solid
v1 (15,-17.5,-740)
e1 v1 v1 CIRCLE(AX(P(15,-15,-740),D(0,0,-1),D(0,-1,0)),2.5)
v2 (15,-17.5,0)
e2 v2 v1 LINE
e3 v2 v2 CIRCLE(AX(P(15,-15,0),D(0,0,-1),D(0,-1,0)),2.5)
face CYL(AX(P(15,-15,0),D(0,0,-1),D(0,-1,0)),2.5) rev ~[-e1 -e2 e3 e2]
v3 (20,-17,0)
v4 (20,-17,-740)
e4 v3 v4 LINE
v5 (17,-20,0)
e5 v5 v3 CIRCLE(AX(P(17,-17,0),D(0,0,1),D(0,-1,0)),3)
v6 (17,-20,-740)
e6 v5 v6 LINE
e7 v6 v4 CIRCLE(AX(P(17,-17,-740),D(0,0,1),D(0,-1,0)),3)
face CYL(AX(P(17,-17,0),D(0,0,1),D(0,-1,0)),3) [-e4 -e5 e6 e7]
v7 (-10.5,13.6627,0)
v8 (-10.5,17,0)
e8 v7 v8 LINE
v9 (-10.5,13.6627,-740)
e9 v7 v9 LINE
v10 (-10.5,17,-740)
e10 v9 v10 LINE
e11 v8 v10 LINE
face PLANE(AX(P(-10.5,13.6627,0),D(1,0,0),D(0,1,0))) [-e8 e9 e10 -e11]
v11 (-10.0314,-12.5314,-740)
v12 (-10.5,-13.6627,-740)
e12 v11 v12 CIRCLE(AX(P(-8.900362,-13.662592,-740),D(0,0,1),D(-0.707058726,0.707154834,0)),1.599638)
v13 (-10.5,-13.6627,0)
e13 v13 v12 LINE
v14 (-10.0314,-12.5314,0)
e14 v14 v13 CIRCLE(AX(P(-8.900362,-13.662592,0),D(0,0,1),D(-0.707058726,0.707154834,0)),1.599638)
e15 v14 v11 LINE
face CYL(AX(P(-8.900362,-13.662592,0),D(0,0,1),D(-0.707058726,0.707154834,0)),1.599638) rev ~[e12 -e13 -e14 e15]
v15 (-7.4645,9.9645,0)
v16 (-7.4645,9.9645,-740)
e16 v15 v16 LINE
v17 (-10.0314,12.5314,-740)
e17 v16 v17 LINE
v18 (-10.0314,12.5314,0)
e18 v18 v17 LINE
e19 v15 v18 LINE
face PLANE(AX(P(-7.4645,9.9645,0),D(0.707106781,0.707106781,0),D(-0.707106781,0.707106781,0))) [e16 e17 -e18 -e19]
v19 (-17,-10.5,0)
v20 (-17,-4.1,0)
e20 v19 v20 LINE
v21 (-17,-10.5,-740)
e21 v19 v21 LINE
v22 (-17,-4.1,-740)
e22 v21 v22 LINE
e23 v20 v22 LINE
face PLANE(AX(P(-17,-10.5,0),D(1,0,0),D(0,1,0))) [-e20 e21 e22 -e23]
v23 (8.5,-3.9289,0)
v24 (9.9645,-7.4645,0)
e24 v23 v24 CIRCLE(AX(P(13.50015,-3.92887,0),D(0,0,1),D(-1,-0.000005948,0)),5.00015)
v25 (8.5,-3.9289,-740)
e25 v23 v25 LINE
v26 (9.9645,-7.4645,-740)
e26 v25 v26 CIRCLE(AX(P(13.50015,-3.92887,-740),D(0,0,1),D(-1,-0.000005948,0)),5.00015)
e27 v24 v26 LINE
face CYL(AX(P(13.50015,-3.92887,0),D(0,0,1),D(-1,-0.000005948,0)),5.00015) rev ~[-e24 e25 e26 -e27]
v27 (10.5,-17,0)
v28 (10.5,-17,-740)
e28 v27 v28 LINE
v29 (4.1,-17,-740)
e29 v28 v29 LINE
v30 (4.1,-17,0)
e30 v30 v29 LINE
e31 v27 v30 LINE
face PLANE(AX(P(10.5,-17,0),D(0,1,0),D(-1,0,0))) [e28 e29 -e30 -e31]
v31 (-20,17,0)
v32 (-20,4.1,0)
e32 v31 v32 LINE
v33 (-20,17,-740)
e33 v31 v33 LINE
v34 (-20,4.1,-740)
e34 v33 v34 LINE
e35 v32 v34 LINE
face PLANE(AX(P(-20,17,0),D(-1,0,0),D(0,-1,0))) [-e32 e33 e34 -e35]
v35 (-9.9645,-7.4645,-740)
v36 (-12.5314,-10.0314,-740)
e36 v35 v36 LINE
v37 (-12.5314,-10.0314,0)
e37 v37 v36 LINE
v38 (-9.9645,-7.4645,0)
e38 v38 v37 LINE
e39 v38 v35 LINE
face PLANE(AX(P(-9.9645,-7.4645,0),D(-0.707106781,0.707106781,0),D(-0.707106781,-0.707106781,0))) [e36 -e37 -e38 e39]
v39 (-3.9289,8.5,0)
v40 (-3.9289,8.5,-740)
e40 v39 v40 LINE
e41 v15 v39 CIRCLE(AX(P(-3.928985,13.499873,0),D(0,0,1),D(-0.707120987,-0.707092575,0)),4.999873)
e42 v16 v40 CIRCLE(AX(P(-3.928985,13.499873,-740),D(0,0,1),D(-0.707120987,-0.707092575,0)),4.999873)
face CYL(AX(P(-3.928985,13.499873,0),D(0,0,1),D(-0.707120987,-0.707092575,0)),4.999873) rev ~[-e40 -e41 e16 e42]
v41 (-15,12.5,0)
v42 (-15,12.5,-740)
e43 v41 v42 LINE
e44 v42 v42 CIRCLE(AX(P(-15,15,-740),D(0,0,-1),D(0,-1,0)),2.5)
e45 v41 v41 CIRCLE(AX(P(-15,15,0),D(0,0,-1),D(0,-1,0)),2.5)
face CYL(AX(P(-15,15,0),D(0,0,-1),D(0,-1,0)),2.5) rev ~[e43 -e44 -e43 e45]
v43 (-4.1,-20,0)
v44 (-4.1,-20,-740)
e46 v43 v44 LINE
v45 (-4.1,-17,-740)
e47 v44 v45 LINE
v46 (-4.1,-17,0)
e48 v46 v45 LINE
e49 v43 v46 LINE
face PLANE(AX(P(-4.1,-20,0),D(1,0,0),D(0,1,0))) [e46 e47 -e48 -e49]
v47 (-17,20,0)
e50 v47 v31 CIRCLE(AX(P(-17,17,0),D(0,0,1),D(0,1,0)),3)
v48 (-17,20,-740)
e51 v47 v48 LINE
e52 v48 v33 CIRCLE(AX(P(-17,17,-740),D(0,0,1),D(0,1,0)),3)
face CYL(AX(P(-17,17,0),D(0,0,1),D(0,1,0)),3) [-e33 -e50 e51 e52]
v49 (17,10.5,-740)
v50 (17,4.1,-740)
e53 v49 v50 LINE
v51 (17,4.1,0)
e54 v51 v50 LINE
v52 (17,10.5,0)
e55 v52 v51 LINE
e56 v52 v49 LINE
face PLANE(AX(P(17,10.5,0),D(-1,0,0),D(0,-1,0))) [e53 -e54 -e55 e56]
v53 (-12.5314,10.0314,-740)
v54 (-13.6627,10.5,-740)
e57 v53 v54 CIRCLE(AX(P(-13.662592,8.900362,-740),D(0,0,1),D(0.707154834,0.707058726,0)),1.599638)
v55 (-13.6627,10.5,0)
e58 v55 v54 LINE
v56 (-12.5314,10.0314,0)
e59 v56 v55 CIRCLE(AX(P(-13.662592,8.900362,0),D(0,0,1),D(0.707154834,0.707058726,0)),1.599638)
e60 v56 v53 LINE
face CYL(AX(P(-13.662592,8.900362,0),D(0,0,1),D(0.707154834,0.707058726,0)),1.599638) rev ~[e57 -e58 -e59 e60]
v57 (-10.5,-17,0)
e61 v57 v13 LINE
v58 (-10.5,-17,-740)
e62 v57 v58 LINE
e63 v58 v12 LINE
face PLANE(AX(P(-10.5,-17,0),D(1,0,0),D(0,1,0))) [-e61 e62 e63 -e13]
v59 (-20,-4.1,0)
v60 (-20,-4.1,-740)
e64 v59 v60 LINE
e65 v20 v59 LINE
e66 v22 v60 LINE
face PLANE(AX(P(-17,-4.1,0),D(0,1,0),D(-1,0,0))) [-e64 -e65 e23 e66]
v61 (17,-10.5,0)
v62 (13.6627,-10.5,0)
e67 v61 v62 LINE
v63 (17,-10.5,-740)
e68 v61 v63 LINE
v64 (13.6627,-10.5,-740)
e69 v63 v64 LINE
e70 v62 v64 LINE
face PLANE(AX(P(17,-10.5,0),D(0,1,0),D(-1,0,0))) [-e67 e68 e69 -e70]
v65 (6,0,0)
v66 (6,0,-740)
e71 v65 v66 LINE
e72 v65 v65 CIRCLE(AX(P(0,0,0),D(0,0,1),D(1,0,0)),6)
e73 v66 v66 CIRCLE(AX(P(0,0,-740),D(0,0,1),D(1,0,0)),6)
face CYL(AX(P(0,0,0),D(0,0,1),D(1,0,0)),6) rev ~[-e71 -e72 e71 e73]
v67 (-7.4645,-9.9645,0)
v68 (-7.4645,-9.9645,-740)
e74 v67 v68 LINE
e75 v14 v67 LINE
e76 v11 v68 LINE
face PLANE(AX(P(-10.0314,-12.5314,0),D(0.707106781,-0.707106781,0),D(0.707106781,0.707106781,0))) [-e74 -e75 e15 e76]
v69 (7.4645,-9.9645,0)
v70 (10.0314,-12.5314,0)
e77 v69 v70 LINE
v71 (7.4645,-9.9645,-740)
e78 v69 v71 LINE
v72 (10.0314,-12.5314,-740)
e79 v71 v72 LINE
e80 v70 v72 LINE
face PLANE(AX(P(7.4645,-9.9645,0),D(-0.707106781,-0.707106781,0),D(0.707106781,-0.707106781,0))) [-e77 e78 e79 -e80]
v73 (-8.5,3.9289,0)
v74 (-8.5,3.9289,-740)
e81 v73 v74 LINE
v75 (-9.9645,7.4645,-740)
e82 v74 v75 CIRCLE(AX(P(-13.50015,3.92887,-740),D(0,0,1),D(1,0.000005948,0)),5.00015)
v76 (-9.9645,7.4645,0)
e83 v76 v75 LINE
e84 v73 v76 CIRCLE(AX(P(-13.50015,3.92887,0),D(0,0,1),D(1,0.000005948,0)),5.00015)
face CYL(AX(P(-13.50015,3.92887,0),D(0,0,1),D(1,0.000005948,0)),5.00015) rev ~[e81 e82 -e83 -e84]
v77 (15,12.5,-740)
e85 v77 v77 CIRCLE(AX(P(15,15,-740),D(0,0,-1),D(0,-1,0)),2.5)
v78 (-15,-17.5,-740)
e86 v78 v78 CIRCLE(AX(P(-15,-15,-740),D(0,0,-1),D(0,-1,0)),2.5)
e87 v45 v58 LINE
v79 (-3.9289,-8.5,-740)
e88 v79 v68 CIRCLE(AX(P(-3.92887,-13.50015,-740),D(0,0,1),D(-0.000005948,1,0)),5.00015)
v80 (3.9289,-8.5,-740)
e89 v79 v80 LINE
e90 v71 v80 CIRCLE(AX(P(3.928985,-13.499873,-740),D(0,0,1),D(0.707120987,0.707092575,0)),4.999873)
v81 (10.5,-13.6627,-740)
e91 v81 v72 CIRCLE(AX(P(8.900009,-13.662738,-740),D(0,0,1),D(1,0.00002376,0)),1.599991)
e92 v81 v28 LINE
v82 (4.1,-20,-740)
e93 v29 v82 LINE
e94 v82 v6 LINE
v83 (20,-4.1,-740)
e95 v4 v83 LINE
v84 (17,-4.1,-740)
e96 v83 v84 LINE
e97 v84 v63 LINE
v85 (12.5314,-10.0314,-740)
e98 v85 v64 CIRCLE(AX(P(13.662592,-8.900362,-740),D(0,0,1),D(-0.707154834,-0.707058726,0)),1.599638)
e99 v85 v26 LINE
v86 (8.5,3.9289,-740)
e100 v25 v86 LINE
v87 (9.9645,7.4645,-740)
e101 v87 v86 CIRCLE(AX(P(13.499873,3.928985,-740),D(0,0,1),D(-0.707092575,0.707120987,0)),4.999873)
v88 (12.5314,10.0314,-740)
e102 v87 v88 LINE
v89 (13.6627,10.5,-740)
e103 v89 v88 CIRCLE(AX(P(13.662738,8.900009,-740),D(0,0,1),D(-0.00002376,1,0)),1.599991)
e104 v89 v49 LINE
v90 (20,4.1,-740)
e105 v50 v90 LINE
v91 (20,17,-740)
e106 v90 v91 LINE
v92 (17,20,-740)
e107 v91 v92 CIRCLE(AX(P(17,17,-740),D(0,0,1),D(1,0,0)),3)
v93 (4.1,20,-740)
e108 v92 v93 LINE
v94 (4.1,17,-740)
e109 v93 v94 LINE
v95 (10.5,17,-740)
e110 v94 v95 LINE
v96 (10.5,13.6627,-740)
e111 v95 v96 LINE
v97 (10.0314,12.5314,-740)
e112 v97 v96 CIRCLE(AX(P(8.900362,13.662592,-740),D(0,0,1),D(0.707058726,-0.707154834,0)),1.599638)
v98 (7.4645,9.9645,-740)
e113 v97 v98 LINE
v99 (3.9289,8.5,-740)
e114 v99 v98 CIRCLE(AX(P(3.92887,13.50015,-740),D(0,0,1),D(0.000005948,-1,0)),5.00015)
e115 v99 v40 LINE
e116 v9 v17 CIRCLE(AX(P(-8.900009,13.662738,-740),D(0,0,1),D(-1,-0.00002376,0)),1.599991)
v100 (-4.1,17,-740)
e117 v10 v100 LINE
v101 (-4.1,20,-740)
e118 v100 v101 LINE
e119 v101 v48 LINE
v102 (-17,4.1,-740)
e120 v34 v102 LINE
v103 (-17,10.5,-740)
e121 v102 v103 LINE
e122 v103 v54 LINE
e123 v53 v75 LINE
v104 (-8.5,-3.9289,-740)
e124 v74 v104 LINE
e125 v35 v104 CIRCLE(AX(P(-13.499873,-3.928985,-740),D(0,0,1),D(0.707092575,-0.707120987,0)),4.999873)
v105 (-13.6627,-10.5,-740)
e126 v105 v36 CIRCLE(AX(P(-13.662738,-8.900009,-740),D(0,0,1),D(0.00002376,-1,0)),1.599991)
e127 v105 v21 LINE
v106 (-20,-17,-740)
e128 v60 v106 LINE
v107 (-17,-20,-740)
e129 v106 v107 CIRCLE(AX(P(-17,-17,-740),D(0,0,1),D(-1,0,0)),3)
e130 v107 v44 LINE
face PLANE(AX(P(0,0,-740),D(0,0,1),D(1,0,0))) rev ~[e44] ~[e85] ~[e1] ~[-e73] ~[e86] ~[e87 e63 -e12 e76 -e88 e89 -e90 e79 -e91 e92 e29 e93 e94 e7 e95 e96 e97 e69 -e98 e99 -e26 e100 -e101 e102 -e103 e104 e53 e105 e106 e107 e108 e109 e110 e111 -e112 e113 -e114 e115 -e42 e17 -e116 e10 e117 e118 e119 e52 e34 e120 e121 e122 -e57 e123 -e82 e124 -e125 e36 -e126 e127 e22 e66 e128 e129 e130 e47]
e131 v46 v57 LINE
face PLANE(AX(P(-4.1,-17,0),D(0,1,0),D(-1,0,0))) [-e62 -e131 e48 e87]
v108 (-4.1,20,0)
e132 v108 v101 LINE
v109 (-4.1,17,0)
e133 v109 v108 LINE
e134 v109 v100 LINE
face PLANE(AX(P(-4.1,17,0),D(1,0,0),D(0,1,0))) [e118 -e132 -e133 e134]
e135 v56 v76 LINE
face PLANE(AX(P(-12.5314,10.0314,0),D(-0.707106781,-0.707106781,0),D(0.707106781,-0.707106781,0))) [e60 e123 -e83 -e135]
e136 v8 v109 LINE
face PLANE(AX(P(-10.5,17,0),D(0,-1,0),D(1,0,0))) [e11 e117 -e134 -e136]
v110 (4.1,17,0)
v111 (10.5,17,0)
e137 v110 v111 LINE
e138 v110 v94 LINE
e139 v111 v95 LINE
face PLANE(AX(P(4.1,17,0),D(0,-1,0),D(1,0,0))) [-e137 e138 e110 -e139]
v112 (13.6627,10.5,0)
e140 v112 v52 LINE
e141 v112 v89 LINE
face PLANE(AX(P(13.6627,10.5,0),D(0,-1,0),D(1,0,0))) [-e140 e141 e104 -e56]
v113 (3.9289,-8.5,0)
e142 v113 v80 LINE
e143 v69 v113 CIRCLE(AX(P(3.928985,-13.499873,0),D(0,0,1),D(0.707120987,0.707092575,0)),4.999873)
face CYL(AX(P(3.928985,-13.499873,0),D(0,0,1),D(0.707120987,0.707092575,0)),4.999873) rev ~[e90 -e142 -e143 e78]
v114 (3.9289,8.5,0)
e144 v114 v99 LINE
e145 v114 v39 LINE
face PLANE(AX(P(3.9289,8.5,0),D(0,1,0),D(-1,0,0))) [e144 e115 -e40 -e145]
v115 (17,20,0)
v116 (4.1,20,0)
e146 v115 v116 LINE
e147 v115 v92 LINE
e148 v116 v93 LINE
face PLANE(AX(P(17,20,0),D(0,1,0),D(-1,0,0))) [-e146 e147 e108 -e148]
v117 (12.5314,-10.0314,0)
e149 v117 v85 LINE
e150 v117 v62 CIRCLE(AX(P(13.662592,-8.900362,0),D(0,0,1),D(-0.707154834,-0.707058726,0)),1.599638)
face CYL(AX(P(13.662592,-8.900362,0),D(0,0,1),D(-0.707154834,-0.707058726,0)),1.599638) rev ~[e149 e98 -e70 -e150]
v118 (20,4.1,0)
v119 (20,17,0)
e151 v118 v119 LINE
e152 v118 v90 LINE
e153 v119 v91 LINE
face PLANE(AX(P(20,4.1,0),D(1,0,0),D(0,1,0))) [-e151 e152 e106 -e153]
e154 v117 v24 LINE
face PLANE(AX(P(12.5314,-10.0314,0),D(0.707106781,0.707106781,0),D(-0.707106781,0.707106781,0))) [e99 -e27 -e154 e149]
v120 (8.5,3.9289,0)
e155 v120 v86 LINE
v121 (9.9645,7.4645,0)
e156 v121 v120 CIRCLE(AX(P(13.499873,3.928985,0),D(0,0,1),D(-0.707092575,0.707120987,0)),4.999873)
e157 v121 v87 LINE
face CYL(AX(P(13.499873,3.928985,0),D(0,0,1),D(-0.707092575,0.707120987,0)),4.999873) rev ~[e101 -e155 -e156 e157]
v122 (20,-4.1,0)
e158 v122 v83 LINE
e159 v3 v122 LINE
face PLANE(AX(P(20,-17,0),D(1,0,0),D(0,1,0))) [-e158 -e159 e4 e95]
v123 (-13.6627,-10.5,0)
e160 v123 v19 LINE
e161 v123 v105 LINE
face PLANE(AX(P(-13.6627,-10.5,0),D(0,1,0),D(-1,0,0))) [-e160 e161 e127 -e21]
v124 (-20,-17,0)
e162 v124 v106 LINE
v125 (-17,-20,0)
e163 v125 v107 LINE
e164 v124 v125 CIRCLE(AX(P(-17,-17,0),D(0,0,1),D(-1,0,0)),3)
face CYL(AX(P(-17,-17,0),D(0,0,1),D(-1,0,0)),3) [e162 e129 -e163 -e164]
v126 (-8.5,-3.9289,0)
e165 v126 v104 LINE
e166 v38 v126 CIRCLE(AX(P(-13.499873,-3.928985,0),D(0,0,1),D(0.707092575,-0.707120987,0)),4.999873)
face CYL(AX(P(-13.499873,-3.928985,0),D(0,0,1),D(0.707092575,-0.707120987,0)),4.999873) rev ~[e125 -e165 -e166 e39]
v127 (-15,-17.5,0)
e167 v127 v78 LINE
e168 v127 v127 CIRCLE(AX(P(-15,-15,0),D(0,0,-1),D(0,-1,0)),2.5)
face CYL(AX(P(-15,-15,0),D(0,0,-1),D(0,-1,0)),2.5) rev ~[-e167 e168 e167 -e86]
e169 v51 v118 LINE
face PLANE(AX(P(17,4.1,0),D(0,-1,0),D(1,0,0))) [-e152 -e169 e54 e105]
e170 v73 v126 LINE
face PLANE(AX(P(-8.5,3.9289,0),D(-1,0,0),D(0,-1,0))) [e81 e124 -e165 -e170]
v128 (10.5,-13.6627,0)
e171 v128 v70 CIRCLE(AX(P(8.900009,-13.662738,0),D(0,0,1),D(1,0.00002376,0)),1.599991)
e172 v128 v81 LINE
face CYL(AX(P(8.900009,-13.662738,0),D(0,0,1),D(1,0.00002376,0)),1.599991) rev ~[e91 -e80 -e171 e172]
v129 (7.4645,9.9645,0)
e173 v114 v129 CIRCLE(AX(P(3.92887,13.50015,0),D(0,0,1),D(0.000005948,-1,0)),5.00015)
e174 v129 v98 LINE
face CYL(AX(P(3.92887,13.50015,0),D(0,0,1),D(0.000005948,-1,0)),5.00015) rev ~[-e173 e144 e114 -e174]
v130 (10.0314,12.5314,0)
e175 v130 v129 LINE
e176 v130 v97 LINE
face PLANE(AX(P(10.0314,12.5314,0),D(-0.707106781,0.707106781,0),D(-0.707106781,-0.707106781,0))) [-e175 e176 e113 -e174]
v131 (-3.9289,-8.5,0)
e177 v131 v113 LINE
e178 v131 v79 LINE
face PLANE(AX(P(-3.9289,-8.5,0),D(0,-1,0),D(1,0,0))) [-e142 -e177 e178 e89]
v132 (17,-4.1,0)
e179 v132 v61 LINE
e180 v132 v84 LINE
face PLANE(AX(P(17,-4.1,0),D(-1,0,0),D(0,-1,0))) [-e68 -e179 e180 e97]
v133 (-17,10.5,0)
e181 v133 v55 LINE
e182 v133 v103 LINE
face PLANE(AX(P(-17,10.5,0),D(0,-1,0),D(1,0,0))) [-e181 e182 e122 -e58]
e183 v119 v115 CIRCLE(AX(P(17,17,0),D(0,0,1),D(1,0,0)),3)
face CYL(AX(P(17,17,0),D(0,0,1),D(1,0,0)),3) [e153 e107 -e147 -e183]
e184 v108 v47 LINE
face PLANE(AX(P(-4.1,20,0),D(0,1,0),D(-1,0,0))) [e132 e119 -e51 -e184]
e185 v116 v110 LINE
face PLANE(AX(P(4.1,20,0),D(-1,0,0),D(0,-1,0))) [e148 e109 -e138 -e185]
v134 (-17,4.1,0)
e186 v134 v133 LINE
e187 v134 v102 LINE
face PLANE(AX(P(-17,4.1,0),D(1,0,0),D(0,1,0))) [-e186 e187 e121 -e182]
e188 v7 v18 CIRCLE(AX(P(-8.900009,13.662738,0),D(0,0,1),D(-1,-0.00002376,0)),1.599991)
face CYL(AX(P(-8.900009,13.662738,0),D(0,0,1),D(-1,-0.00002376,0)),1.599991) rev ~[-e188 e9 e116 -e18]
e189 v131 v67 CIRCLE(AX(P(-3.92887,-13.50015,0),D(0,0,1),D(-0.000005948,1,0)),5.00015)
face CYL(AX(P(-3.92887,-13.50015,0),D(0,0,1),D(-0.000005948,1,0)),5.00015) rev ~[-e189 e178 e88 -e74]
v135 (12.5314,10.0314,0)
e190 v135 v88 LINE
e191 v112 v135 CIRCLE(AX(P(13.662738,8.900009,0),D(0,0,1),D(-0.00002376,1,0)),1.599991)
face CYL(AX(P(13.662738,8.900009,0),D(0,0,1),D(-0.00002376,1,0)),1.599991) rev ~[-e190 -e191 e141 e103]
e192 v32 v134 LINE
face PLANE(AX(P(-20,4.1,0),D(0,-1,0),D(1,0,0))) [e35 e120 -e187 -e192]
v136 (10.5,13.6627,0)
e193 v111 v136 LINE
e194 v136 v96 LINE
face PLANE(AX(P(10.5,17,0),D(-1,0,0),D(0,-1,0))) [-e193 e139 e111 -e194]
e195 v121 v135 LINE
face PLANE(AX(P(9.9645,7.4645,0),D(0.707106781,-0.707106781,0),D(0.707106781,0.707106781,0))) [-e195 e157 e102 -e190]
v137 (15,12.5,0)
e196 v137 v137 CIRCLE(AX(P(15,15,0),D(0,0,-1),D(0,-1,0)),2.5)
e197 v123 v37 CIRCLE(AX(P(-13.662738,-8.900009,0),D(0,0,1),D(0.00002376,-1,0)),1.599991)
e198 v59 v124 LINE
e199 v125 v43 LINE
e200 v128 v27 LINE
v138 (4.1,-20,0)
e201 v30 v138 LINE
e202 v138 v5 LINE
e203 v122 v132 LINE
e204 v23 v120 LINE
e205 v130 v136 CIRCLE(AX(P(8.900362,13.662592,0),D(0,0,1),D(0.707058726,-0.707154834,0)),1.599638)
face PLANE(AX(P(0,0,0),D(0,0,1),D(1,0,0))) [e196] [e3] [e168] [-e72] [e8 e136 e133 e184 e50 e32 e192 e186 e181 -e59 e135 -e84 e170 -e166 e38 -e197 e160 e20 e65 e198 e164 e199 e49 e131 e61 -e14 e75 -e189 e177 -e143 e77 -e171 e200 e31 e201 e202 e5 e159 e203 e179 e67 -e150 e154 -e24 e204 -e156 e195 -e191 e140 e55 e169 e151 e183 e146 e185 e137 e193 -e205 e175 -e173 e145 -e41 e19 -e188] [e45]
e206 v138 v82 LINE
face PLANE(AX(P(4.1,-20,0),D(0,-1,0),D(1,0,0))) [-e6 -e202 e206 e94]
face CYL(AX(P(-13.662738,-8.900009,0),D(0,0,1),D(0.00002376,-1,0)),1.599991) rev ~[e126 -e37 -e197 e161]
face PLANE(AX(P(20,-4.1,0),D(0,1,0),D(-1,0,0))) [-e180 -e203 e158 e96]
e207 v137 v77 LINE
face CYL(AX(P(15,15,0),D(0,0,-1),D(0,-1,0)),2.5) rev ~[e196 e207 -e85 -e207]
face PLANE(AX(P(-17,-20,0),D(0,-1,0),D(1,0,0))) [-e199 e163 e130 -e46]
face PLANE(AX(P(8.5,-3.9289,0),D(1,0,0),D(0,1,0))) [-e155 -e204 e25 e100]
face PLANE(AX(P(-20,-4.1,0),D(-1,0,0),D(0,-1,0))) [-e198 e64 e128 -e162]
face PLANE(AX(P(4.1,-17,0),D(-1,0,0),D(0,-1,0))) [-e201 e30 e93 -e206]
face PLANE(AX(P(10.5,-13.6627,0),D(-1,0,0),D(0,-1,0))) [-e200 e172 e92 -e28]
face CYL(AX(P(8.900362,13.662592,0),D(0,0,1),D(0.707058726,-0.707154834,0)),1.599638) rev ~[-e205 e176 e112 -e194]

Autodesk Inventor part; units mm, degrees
sketch "Skizze_1" plane through (0, 0, 0) normal (0, 0, 1) x (1, 0, 0)
  arc A0 (-20, -17) -> (-17, -20) centre (-17, -17) ccw
  line L0 (-17, -20) -> (-4.1, -20)
  line L1 (-4.1, -20) -> (-4.1, -17)
  line L2 (-4.1, -17) -> (-10.5, -17)
  line L3 (-10.5, -17) -> (-10.5, -13.6627)
  arc A1 (-10.0314, -12.5314) -> (-10.5, -13.6627) centre (-8.9002, -13.6627) ccw
  line L4 (-10.0314, -12.5314) -> (-7.4645, -9.9645)
  arc A2 (-3.9289, -8.5) -> (-7.4645, -9.9645) centre (-3.9289, -13.5) ccw
  line L5 (-3.9289, -8.5) -> (3.9289, -8.5)
  arc A3 (7.4645, -9.9645) -> (3.9289, -8.5) centre (3.9289, -13.5) ccw
  line L6 (7.4645, -9.9645) -> (10.0314, -12.5314)
  arc A4 (10.5, -13.6627) -> (10.0314, -12.5314) centre (8.9002, -13.6627) ccw
  line L7 (10.5, -13.6627) -> (10.5, -17)
  line L8 (10.5, -17) -> (4.1, -17)
  line L9 (4.1, -17) -> (4.1, -20)
  line L10 (4.1, -20) -> (17, -20)
  arc A5 (17, -20) -> (20, -17) centre (17, -17) ccw
  line L11 (20, -17) -> (20, -4.1)
  line L12 (20, -4.1) -> (17, -4.1)
  line L13 (17, -4.1) -> (17, -10.5)
  line L14 (17, -10.5) -> (13.6627, -10.5)
  arc A6 (12.5314, -10.0314) -> (13.6627, -10.5) centre (13.6627, -8.9002) ccw
  line L15 (12.5314, -10.0314) -> (9.9645, -7.4645)
  arc A7 (8.5, -3.9289) -> (9.9645, -7.4645) centre (13.5, -3.9289) ccw
  line L16 (8.5, -3.9289) -> (8.5, 3.9289)
  arc A8 (9.9645, 7.4645) -> (8.5, 3.9289) centre (13.5, 3.9289) ccw
  line L17 (9.9645, 7.4645) -> (12.5314, 10.0314)
  arc A9 (13.6627, 10.5) -> (12.5314, 10.0314) centre (13.6627, 8.9002) ccw
  line L18 (13.6627, 10.5) -> (17, 10.5)
  line L19 (17, 10.5) -> (17, 4.1)
  line L20 (17, 4.1) -> (20, 4.1)
  line L21 (20, 4.1) -> (20, 17)
  arc A10 (20, 17) -> (17, 20) centre (17, 17) ccw
  line L22 (17, 20) -> (4.1, 20)
  line L23 (4.1, 20) -> (4.1, 17)
  line L24 (4.1, 17) -> (10.5, 17)
  line L25 (10.5, 17) -> (10.5, 13.6627)
  arc A11 (10.0314, 12.5314) -> (10.5, 13.6627) centre (8.9002, 13.6627) ccw
  line L26 (10.0314, 12.5314) -> (7.4645, 9.9645)
  arc A12 (3.9289, 8.5) -> (7.4645, 9.9645) centre (3.9289, 13.5) ccw
  line L27 (3.9289, 8.5) -> (-3.9289, 8.5)
  arc A13 (-7.4645, 9.9645) -> (-3.9289, 8.5) centre (-3.9289, 13.5) ccw
  line L28 (-7.4645, 9.9645) -> (-10.0314, 12.5314)
  arc A14 (-10.5, 13.6627) -> (-10.0314, 12.5314) centre (-8.9002, 13.6627) ccw
  line L29 (-10.5, 13.6627) -> (-10.5, 17)
  line L30 (-10.5, 17) -> (-4.1, 17)
  line L31 (-4.1, 17) -> (-4.1, 20)
  line L32 (-4.1, 20) -> (-17, 20)
  arc A15 (-17, 20) -> (-20, 17) centre (-17, 17) ccw
  line L33 (-20, 17) -> (-20, 4.1)
  line L34 (-20, 4.1) -> (-17, 4.1)
  line L35 (-17, 4.1) -> (-17, 10.5)
  line L36 (-17, 10.5) -> (-13.6627, 10.5)
  arc A16 (-12.5314, 10.0314) -> (-13.6627, 10.5) centre (-13.6627, 8.9002) ccw
  line L37 (-12.5314, 10.0314) -> (-9.9645, 7.4645)
  arc A17 (-8.5, 3.9289) -> (-9.9645, 7.4645) centre (-13.5, 3.9289) ccw
  line L38 (-8.5, 3.9289) -> (-8.5, -3.9289)
  arc A18 (-9.9645, -7.4645) -> (-8.5, -3.9289) centre (-13.5, -3.9289) ccw
  line L39 (-9.9645, -7.4645) -> (-12.5314, -10.0314)
  arc A19 (-13.6627, -10.5) -> (-12.5314, -10.0314) centre (-13.6627, -8.9002) ccw
  line L40 (-13.6627, -10.5) -> (-17, -10.5)
  line L41 (-17, -10.5) -> (-17, -4.1)
  line L42 (-17, -4.1) -> (-20, -4.1)
  line L43 (-20, -4.1) -> (-20, -17)
  circle A20 centre (0, 0) radius 6
extrude "Extrusion1" add sketch "Skizze_1" against normal blind 740
sketch "Sketch2" plane through (0, 0, 0) normal (0, 0, 1) x (1, 0, 0)
  point P0 (-15, -15)
hole "Drilling 1" at (-15, -15, 0) direction (0, 0, -1) diameter 5 depth 6000
sketch "Sketch3" plane through (0, 0, 0) normal (0, 0, 1) x (1, 0, 0)
  point P0 (15, -15)
hole "Drilling 2" at (15, -15, 0) direction (0, 0, -1) diameter 5 depth 6000
sketch "Sketch4" plane through (0, 0, 0) normal (0, 0, 1) x (1, 0, 0)
  point P0 (15, 15)
hole "Drilling 3" at (15, 15, 0) direction (0, 0, -1) diameter 5 depth 6000
sketch "Sketch5" plane through (0, 0, 0) normal (0, 0, 1) x (1, 0, 0)
  point P0 (-15, 15)
hole "Drilling 4" at (-15, 15, 0) direction (0, 0, -1) diameter 5 depth 6000
ref_plane "side_4d_XY" through (-20, 0, -350) normal (-1, 0, 0) x (0, 1, 0)
ref_plane "side_4d_YZ" through (-20, 0, -350) normal (0, 1, 0) x (0, 0, -1)
ref_plane "side_4d_ZX" through (-20, 0, -350) normal (0, 0, -1) x (-1, 0, 0)
ref_plane "side_1a_XY" through (0, 20, -350) normal (0, 1, 0) x (1, 0, 0)
ref_plane "side_1a_YZ" through (0, 20, -350) normal (1, 0, 0) x (0, 0, -1)
ref_plane "side_1a_ZX" through (0, 20, -350) normal (0, 0, -1) x (0, 1, 0)
ref_plane "side_2b_XY" through (20, 0, -350) normal (1, 0, 0) x (0, -1, 0)
ref_plane "side_2b_YZ" through (20, 0, -350) normal (0, -1, 0) x (0, 0, -1)
ref_plane "side_2b_ZX" through (20, 0, -350) normal (0, 0, -1) x (1, 0, 0)
ref_plane "side_3c_XY" through (0, -20, -350) normal (0, -1, 0) x (-1, 0, 0)
ref_plane "side_3c_YZ" through (0, -20, -350) normal (-1, 0, 0) x (0, 0, -1)
ref_plane "side_3c_ZX" through (0, -20, -350) normal (0, 0, -1) x (0, -1, 0)
ref_plane "end_XY" through (0, 0, -700) normal (0, 0, -1) x (1, 0, 0)
ref_plane "end_YZ" through (0, 0, -700) normal (1, 0, 0) x (0, -1, 0)
ref_plane "end_ZX" through (0, 0, -700) normal (0, -1, 0) x (0, 0, -1)
ref_plane "start_XY" through (0, 0, 0) normal (0, 0, 1) x (1, 0, 0)
ref_plane "start_YZ" through (0, 0, 0) normal (1, 0, 0) x (0, 1, 0)
ref_plane "start_ZX" through (0, 0, 0) normal (0, 1, 0) x (0, 0, 1)
properties part number "MayTec 1_11_040040_43S_Profile 40x40, 4E, S_740_Detail_(0;0,0,0)"
